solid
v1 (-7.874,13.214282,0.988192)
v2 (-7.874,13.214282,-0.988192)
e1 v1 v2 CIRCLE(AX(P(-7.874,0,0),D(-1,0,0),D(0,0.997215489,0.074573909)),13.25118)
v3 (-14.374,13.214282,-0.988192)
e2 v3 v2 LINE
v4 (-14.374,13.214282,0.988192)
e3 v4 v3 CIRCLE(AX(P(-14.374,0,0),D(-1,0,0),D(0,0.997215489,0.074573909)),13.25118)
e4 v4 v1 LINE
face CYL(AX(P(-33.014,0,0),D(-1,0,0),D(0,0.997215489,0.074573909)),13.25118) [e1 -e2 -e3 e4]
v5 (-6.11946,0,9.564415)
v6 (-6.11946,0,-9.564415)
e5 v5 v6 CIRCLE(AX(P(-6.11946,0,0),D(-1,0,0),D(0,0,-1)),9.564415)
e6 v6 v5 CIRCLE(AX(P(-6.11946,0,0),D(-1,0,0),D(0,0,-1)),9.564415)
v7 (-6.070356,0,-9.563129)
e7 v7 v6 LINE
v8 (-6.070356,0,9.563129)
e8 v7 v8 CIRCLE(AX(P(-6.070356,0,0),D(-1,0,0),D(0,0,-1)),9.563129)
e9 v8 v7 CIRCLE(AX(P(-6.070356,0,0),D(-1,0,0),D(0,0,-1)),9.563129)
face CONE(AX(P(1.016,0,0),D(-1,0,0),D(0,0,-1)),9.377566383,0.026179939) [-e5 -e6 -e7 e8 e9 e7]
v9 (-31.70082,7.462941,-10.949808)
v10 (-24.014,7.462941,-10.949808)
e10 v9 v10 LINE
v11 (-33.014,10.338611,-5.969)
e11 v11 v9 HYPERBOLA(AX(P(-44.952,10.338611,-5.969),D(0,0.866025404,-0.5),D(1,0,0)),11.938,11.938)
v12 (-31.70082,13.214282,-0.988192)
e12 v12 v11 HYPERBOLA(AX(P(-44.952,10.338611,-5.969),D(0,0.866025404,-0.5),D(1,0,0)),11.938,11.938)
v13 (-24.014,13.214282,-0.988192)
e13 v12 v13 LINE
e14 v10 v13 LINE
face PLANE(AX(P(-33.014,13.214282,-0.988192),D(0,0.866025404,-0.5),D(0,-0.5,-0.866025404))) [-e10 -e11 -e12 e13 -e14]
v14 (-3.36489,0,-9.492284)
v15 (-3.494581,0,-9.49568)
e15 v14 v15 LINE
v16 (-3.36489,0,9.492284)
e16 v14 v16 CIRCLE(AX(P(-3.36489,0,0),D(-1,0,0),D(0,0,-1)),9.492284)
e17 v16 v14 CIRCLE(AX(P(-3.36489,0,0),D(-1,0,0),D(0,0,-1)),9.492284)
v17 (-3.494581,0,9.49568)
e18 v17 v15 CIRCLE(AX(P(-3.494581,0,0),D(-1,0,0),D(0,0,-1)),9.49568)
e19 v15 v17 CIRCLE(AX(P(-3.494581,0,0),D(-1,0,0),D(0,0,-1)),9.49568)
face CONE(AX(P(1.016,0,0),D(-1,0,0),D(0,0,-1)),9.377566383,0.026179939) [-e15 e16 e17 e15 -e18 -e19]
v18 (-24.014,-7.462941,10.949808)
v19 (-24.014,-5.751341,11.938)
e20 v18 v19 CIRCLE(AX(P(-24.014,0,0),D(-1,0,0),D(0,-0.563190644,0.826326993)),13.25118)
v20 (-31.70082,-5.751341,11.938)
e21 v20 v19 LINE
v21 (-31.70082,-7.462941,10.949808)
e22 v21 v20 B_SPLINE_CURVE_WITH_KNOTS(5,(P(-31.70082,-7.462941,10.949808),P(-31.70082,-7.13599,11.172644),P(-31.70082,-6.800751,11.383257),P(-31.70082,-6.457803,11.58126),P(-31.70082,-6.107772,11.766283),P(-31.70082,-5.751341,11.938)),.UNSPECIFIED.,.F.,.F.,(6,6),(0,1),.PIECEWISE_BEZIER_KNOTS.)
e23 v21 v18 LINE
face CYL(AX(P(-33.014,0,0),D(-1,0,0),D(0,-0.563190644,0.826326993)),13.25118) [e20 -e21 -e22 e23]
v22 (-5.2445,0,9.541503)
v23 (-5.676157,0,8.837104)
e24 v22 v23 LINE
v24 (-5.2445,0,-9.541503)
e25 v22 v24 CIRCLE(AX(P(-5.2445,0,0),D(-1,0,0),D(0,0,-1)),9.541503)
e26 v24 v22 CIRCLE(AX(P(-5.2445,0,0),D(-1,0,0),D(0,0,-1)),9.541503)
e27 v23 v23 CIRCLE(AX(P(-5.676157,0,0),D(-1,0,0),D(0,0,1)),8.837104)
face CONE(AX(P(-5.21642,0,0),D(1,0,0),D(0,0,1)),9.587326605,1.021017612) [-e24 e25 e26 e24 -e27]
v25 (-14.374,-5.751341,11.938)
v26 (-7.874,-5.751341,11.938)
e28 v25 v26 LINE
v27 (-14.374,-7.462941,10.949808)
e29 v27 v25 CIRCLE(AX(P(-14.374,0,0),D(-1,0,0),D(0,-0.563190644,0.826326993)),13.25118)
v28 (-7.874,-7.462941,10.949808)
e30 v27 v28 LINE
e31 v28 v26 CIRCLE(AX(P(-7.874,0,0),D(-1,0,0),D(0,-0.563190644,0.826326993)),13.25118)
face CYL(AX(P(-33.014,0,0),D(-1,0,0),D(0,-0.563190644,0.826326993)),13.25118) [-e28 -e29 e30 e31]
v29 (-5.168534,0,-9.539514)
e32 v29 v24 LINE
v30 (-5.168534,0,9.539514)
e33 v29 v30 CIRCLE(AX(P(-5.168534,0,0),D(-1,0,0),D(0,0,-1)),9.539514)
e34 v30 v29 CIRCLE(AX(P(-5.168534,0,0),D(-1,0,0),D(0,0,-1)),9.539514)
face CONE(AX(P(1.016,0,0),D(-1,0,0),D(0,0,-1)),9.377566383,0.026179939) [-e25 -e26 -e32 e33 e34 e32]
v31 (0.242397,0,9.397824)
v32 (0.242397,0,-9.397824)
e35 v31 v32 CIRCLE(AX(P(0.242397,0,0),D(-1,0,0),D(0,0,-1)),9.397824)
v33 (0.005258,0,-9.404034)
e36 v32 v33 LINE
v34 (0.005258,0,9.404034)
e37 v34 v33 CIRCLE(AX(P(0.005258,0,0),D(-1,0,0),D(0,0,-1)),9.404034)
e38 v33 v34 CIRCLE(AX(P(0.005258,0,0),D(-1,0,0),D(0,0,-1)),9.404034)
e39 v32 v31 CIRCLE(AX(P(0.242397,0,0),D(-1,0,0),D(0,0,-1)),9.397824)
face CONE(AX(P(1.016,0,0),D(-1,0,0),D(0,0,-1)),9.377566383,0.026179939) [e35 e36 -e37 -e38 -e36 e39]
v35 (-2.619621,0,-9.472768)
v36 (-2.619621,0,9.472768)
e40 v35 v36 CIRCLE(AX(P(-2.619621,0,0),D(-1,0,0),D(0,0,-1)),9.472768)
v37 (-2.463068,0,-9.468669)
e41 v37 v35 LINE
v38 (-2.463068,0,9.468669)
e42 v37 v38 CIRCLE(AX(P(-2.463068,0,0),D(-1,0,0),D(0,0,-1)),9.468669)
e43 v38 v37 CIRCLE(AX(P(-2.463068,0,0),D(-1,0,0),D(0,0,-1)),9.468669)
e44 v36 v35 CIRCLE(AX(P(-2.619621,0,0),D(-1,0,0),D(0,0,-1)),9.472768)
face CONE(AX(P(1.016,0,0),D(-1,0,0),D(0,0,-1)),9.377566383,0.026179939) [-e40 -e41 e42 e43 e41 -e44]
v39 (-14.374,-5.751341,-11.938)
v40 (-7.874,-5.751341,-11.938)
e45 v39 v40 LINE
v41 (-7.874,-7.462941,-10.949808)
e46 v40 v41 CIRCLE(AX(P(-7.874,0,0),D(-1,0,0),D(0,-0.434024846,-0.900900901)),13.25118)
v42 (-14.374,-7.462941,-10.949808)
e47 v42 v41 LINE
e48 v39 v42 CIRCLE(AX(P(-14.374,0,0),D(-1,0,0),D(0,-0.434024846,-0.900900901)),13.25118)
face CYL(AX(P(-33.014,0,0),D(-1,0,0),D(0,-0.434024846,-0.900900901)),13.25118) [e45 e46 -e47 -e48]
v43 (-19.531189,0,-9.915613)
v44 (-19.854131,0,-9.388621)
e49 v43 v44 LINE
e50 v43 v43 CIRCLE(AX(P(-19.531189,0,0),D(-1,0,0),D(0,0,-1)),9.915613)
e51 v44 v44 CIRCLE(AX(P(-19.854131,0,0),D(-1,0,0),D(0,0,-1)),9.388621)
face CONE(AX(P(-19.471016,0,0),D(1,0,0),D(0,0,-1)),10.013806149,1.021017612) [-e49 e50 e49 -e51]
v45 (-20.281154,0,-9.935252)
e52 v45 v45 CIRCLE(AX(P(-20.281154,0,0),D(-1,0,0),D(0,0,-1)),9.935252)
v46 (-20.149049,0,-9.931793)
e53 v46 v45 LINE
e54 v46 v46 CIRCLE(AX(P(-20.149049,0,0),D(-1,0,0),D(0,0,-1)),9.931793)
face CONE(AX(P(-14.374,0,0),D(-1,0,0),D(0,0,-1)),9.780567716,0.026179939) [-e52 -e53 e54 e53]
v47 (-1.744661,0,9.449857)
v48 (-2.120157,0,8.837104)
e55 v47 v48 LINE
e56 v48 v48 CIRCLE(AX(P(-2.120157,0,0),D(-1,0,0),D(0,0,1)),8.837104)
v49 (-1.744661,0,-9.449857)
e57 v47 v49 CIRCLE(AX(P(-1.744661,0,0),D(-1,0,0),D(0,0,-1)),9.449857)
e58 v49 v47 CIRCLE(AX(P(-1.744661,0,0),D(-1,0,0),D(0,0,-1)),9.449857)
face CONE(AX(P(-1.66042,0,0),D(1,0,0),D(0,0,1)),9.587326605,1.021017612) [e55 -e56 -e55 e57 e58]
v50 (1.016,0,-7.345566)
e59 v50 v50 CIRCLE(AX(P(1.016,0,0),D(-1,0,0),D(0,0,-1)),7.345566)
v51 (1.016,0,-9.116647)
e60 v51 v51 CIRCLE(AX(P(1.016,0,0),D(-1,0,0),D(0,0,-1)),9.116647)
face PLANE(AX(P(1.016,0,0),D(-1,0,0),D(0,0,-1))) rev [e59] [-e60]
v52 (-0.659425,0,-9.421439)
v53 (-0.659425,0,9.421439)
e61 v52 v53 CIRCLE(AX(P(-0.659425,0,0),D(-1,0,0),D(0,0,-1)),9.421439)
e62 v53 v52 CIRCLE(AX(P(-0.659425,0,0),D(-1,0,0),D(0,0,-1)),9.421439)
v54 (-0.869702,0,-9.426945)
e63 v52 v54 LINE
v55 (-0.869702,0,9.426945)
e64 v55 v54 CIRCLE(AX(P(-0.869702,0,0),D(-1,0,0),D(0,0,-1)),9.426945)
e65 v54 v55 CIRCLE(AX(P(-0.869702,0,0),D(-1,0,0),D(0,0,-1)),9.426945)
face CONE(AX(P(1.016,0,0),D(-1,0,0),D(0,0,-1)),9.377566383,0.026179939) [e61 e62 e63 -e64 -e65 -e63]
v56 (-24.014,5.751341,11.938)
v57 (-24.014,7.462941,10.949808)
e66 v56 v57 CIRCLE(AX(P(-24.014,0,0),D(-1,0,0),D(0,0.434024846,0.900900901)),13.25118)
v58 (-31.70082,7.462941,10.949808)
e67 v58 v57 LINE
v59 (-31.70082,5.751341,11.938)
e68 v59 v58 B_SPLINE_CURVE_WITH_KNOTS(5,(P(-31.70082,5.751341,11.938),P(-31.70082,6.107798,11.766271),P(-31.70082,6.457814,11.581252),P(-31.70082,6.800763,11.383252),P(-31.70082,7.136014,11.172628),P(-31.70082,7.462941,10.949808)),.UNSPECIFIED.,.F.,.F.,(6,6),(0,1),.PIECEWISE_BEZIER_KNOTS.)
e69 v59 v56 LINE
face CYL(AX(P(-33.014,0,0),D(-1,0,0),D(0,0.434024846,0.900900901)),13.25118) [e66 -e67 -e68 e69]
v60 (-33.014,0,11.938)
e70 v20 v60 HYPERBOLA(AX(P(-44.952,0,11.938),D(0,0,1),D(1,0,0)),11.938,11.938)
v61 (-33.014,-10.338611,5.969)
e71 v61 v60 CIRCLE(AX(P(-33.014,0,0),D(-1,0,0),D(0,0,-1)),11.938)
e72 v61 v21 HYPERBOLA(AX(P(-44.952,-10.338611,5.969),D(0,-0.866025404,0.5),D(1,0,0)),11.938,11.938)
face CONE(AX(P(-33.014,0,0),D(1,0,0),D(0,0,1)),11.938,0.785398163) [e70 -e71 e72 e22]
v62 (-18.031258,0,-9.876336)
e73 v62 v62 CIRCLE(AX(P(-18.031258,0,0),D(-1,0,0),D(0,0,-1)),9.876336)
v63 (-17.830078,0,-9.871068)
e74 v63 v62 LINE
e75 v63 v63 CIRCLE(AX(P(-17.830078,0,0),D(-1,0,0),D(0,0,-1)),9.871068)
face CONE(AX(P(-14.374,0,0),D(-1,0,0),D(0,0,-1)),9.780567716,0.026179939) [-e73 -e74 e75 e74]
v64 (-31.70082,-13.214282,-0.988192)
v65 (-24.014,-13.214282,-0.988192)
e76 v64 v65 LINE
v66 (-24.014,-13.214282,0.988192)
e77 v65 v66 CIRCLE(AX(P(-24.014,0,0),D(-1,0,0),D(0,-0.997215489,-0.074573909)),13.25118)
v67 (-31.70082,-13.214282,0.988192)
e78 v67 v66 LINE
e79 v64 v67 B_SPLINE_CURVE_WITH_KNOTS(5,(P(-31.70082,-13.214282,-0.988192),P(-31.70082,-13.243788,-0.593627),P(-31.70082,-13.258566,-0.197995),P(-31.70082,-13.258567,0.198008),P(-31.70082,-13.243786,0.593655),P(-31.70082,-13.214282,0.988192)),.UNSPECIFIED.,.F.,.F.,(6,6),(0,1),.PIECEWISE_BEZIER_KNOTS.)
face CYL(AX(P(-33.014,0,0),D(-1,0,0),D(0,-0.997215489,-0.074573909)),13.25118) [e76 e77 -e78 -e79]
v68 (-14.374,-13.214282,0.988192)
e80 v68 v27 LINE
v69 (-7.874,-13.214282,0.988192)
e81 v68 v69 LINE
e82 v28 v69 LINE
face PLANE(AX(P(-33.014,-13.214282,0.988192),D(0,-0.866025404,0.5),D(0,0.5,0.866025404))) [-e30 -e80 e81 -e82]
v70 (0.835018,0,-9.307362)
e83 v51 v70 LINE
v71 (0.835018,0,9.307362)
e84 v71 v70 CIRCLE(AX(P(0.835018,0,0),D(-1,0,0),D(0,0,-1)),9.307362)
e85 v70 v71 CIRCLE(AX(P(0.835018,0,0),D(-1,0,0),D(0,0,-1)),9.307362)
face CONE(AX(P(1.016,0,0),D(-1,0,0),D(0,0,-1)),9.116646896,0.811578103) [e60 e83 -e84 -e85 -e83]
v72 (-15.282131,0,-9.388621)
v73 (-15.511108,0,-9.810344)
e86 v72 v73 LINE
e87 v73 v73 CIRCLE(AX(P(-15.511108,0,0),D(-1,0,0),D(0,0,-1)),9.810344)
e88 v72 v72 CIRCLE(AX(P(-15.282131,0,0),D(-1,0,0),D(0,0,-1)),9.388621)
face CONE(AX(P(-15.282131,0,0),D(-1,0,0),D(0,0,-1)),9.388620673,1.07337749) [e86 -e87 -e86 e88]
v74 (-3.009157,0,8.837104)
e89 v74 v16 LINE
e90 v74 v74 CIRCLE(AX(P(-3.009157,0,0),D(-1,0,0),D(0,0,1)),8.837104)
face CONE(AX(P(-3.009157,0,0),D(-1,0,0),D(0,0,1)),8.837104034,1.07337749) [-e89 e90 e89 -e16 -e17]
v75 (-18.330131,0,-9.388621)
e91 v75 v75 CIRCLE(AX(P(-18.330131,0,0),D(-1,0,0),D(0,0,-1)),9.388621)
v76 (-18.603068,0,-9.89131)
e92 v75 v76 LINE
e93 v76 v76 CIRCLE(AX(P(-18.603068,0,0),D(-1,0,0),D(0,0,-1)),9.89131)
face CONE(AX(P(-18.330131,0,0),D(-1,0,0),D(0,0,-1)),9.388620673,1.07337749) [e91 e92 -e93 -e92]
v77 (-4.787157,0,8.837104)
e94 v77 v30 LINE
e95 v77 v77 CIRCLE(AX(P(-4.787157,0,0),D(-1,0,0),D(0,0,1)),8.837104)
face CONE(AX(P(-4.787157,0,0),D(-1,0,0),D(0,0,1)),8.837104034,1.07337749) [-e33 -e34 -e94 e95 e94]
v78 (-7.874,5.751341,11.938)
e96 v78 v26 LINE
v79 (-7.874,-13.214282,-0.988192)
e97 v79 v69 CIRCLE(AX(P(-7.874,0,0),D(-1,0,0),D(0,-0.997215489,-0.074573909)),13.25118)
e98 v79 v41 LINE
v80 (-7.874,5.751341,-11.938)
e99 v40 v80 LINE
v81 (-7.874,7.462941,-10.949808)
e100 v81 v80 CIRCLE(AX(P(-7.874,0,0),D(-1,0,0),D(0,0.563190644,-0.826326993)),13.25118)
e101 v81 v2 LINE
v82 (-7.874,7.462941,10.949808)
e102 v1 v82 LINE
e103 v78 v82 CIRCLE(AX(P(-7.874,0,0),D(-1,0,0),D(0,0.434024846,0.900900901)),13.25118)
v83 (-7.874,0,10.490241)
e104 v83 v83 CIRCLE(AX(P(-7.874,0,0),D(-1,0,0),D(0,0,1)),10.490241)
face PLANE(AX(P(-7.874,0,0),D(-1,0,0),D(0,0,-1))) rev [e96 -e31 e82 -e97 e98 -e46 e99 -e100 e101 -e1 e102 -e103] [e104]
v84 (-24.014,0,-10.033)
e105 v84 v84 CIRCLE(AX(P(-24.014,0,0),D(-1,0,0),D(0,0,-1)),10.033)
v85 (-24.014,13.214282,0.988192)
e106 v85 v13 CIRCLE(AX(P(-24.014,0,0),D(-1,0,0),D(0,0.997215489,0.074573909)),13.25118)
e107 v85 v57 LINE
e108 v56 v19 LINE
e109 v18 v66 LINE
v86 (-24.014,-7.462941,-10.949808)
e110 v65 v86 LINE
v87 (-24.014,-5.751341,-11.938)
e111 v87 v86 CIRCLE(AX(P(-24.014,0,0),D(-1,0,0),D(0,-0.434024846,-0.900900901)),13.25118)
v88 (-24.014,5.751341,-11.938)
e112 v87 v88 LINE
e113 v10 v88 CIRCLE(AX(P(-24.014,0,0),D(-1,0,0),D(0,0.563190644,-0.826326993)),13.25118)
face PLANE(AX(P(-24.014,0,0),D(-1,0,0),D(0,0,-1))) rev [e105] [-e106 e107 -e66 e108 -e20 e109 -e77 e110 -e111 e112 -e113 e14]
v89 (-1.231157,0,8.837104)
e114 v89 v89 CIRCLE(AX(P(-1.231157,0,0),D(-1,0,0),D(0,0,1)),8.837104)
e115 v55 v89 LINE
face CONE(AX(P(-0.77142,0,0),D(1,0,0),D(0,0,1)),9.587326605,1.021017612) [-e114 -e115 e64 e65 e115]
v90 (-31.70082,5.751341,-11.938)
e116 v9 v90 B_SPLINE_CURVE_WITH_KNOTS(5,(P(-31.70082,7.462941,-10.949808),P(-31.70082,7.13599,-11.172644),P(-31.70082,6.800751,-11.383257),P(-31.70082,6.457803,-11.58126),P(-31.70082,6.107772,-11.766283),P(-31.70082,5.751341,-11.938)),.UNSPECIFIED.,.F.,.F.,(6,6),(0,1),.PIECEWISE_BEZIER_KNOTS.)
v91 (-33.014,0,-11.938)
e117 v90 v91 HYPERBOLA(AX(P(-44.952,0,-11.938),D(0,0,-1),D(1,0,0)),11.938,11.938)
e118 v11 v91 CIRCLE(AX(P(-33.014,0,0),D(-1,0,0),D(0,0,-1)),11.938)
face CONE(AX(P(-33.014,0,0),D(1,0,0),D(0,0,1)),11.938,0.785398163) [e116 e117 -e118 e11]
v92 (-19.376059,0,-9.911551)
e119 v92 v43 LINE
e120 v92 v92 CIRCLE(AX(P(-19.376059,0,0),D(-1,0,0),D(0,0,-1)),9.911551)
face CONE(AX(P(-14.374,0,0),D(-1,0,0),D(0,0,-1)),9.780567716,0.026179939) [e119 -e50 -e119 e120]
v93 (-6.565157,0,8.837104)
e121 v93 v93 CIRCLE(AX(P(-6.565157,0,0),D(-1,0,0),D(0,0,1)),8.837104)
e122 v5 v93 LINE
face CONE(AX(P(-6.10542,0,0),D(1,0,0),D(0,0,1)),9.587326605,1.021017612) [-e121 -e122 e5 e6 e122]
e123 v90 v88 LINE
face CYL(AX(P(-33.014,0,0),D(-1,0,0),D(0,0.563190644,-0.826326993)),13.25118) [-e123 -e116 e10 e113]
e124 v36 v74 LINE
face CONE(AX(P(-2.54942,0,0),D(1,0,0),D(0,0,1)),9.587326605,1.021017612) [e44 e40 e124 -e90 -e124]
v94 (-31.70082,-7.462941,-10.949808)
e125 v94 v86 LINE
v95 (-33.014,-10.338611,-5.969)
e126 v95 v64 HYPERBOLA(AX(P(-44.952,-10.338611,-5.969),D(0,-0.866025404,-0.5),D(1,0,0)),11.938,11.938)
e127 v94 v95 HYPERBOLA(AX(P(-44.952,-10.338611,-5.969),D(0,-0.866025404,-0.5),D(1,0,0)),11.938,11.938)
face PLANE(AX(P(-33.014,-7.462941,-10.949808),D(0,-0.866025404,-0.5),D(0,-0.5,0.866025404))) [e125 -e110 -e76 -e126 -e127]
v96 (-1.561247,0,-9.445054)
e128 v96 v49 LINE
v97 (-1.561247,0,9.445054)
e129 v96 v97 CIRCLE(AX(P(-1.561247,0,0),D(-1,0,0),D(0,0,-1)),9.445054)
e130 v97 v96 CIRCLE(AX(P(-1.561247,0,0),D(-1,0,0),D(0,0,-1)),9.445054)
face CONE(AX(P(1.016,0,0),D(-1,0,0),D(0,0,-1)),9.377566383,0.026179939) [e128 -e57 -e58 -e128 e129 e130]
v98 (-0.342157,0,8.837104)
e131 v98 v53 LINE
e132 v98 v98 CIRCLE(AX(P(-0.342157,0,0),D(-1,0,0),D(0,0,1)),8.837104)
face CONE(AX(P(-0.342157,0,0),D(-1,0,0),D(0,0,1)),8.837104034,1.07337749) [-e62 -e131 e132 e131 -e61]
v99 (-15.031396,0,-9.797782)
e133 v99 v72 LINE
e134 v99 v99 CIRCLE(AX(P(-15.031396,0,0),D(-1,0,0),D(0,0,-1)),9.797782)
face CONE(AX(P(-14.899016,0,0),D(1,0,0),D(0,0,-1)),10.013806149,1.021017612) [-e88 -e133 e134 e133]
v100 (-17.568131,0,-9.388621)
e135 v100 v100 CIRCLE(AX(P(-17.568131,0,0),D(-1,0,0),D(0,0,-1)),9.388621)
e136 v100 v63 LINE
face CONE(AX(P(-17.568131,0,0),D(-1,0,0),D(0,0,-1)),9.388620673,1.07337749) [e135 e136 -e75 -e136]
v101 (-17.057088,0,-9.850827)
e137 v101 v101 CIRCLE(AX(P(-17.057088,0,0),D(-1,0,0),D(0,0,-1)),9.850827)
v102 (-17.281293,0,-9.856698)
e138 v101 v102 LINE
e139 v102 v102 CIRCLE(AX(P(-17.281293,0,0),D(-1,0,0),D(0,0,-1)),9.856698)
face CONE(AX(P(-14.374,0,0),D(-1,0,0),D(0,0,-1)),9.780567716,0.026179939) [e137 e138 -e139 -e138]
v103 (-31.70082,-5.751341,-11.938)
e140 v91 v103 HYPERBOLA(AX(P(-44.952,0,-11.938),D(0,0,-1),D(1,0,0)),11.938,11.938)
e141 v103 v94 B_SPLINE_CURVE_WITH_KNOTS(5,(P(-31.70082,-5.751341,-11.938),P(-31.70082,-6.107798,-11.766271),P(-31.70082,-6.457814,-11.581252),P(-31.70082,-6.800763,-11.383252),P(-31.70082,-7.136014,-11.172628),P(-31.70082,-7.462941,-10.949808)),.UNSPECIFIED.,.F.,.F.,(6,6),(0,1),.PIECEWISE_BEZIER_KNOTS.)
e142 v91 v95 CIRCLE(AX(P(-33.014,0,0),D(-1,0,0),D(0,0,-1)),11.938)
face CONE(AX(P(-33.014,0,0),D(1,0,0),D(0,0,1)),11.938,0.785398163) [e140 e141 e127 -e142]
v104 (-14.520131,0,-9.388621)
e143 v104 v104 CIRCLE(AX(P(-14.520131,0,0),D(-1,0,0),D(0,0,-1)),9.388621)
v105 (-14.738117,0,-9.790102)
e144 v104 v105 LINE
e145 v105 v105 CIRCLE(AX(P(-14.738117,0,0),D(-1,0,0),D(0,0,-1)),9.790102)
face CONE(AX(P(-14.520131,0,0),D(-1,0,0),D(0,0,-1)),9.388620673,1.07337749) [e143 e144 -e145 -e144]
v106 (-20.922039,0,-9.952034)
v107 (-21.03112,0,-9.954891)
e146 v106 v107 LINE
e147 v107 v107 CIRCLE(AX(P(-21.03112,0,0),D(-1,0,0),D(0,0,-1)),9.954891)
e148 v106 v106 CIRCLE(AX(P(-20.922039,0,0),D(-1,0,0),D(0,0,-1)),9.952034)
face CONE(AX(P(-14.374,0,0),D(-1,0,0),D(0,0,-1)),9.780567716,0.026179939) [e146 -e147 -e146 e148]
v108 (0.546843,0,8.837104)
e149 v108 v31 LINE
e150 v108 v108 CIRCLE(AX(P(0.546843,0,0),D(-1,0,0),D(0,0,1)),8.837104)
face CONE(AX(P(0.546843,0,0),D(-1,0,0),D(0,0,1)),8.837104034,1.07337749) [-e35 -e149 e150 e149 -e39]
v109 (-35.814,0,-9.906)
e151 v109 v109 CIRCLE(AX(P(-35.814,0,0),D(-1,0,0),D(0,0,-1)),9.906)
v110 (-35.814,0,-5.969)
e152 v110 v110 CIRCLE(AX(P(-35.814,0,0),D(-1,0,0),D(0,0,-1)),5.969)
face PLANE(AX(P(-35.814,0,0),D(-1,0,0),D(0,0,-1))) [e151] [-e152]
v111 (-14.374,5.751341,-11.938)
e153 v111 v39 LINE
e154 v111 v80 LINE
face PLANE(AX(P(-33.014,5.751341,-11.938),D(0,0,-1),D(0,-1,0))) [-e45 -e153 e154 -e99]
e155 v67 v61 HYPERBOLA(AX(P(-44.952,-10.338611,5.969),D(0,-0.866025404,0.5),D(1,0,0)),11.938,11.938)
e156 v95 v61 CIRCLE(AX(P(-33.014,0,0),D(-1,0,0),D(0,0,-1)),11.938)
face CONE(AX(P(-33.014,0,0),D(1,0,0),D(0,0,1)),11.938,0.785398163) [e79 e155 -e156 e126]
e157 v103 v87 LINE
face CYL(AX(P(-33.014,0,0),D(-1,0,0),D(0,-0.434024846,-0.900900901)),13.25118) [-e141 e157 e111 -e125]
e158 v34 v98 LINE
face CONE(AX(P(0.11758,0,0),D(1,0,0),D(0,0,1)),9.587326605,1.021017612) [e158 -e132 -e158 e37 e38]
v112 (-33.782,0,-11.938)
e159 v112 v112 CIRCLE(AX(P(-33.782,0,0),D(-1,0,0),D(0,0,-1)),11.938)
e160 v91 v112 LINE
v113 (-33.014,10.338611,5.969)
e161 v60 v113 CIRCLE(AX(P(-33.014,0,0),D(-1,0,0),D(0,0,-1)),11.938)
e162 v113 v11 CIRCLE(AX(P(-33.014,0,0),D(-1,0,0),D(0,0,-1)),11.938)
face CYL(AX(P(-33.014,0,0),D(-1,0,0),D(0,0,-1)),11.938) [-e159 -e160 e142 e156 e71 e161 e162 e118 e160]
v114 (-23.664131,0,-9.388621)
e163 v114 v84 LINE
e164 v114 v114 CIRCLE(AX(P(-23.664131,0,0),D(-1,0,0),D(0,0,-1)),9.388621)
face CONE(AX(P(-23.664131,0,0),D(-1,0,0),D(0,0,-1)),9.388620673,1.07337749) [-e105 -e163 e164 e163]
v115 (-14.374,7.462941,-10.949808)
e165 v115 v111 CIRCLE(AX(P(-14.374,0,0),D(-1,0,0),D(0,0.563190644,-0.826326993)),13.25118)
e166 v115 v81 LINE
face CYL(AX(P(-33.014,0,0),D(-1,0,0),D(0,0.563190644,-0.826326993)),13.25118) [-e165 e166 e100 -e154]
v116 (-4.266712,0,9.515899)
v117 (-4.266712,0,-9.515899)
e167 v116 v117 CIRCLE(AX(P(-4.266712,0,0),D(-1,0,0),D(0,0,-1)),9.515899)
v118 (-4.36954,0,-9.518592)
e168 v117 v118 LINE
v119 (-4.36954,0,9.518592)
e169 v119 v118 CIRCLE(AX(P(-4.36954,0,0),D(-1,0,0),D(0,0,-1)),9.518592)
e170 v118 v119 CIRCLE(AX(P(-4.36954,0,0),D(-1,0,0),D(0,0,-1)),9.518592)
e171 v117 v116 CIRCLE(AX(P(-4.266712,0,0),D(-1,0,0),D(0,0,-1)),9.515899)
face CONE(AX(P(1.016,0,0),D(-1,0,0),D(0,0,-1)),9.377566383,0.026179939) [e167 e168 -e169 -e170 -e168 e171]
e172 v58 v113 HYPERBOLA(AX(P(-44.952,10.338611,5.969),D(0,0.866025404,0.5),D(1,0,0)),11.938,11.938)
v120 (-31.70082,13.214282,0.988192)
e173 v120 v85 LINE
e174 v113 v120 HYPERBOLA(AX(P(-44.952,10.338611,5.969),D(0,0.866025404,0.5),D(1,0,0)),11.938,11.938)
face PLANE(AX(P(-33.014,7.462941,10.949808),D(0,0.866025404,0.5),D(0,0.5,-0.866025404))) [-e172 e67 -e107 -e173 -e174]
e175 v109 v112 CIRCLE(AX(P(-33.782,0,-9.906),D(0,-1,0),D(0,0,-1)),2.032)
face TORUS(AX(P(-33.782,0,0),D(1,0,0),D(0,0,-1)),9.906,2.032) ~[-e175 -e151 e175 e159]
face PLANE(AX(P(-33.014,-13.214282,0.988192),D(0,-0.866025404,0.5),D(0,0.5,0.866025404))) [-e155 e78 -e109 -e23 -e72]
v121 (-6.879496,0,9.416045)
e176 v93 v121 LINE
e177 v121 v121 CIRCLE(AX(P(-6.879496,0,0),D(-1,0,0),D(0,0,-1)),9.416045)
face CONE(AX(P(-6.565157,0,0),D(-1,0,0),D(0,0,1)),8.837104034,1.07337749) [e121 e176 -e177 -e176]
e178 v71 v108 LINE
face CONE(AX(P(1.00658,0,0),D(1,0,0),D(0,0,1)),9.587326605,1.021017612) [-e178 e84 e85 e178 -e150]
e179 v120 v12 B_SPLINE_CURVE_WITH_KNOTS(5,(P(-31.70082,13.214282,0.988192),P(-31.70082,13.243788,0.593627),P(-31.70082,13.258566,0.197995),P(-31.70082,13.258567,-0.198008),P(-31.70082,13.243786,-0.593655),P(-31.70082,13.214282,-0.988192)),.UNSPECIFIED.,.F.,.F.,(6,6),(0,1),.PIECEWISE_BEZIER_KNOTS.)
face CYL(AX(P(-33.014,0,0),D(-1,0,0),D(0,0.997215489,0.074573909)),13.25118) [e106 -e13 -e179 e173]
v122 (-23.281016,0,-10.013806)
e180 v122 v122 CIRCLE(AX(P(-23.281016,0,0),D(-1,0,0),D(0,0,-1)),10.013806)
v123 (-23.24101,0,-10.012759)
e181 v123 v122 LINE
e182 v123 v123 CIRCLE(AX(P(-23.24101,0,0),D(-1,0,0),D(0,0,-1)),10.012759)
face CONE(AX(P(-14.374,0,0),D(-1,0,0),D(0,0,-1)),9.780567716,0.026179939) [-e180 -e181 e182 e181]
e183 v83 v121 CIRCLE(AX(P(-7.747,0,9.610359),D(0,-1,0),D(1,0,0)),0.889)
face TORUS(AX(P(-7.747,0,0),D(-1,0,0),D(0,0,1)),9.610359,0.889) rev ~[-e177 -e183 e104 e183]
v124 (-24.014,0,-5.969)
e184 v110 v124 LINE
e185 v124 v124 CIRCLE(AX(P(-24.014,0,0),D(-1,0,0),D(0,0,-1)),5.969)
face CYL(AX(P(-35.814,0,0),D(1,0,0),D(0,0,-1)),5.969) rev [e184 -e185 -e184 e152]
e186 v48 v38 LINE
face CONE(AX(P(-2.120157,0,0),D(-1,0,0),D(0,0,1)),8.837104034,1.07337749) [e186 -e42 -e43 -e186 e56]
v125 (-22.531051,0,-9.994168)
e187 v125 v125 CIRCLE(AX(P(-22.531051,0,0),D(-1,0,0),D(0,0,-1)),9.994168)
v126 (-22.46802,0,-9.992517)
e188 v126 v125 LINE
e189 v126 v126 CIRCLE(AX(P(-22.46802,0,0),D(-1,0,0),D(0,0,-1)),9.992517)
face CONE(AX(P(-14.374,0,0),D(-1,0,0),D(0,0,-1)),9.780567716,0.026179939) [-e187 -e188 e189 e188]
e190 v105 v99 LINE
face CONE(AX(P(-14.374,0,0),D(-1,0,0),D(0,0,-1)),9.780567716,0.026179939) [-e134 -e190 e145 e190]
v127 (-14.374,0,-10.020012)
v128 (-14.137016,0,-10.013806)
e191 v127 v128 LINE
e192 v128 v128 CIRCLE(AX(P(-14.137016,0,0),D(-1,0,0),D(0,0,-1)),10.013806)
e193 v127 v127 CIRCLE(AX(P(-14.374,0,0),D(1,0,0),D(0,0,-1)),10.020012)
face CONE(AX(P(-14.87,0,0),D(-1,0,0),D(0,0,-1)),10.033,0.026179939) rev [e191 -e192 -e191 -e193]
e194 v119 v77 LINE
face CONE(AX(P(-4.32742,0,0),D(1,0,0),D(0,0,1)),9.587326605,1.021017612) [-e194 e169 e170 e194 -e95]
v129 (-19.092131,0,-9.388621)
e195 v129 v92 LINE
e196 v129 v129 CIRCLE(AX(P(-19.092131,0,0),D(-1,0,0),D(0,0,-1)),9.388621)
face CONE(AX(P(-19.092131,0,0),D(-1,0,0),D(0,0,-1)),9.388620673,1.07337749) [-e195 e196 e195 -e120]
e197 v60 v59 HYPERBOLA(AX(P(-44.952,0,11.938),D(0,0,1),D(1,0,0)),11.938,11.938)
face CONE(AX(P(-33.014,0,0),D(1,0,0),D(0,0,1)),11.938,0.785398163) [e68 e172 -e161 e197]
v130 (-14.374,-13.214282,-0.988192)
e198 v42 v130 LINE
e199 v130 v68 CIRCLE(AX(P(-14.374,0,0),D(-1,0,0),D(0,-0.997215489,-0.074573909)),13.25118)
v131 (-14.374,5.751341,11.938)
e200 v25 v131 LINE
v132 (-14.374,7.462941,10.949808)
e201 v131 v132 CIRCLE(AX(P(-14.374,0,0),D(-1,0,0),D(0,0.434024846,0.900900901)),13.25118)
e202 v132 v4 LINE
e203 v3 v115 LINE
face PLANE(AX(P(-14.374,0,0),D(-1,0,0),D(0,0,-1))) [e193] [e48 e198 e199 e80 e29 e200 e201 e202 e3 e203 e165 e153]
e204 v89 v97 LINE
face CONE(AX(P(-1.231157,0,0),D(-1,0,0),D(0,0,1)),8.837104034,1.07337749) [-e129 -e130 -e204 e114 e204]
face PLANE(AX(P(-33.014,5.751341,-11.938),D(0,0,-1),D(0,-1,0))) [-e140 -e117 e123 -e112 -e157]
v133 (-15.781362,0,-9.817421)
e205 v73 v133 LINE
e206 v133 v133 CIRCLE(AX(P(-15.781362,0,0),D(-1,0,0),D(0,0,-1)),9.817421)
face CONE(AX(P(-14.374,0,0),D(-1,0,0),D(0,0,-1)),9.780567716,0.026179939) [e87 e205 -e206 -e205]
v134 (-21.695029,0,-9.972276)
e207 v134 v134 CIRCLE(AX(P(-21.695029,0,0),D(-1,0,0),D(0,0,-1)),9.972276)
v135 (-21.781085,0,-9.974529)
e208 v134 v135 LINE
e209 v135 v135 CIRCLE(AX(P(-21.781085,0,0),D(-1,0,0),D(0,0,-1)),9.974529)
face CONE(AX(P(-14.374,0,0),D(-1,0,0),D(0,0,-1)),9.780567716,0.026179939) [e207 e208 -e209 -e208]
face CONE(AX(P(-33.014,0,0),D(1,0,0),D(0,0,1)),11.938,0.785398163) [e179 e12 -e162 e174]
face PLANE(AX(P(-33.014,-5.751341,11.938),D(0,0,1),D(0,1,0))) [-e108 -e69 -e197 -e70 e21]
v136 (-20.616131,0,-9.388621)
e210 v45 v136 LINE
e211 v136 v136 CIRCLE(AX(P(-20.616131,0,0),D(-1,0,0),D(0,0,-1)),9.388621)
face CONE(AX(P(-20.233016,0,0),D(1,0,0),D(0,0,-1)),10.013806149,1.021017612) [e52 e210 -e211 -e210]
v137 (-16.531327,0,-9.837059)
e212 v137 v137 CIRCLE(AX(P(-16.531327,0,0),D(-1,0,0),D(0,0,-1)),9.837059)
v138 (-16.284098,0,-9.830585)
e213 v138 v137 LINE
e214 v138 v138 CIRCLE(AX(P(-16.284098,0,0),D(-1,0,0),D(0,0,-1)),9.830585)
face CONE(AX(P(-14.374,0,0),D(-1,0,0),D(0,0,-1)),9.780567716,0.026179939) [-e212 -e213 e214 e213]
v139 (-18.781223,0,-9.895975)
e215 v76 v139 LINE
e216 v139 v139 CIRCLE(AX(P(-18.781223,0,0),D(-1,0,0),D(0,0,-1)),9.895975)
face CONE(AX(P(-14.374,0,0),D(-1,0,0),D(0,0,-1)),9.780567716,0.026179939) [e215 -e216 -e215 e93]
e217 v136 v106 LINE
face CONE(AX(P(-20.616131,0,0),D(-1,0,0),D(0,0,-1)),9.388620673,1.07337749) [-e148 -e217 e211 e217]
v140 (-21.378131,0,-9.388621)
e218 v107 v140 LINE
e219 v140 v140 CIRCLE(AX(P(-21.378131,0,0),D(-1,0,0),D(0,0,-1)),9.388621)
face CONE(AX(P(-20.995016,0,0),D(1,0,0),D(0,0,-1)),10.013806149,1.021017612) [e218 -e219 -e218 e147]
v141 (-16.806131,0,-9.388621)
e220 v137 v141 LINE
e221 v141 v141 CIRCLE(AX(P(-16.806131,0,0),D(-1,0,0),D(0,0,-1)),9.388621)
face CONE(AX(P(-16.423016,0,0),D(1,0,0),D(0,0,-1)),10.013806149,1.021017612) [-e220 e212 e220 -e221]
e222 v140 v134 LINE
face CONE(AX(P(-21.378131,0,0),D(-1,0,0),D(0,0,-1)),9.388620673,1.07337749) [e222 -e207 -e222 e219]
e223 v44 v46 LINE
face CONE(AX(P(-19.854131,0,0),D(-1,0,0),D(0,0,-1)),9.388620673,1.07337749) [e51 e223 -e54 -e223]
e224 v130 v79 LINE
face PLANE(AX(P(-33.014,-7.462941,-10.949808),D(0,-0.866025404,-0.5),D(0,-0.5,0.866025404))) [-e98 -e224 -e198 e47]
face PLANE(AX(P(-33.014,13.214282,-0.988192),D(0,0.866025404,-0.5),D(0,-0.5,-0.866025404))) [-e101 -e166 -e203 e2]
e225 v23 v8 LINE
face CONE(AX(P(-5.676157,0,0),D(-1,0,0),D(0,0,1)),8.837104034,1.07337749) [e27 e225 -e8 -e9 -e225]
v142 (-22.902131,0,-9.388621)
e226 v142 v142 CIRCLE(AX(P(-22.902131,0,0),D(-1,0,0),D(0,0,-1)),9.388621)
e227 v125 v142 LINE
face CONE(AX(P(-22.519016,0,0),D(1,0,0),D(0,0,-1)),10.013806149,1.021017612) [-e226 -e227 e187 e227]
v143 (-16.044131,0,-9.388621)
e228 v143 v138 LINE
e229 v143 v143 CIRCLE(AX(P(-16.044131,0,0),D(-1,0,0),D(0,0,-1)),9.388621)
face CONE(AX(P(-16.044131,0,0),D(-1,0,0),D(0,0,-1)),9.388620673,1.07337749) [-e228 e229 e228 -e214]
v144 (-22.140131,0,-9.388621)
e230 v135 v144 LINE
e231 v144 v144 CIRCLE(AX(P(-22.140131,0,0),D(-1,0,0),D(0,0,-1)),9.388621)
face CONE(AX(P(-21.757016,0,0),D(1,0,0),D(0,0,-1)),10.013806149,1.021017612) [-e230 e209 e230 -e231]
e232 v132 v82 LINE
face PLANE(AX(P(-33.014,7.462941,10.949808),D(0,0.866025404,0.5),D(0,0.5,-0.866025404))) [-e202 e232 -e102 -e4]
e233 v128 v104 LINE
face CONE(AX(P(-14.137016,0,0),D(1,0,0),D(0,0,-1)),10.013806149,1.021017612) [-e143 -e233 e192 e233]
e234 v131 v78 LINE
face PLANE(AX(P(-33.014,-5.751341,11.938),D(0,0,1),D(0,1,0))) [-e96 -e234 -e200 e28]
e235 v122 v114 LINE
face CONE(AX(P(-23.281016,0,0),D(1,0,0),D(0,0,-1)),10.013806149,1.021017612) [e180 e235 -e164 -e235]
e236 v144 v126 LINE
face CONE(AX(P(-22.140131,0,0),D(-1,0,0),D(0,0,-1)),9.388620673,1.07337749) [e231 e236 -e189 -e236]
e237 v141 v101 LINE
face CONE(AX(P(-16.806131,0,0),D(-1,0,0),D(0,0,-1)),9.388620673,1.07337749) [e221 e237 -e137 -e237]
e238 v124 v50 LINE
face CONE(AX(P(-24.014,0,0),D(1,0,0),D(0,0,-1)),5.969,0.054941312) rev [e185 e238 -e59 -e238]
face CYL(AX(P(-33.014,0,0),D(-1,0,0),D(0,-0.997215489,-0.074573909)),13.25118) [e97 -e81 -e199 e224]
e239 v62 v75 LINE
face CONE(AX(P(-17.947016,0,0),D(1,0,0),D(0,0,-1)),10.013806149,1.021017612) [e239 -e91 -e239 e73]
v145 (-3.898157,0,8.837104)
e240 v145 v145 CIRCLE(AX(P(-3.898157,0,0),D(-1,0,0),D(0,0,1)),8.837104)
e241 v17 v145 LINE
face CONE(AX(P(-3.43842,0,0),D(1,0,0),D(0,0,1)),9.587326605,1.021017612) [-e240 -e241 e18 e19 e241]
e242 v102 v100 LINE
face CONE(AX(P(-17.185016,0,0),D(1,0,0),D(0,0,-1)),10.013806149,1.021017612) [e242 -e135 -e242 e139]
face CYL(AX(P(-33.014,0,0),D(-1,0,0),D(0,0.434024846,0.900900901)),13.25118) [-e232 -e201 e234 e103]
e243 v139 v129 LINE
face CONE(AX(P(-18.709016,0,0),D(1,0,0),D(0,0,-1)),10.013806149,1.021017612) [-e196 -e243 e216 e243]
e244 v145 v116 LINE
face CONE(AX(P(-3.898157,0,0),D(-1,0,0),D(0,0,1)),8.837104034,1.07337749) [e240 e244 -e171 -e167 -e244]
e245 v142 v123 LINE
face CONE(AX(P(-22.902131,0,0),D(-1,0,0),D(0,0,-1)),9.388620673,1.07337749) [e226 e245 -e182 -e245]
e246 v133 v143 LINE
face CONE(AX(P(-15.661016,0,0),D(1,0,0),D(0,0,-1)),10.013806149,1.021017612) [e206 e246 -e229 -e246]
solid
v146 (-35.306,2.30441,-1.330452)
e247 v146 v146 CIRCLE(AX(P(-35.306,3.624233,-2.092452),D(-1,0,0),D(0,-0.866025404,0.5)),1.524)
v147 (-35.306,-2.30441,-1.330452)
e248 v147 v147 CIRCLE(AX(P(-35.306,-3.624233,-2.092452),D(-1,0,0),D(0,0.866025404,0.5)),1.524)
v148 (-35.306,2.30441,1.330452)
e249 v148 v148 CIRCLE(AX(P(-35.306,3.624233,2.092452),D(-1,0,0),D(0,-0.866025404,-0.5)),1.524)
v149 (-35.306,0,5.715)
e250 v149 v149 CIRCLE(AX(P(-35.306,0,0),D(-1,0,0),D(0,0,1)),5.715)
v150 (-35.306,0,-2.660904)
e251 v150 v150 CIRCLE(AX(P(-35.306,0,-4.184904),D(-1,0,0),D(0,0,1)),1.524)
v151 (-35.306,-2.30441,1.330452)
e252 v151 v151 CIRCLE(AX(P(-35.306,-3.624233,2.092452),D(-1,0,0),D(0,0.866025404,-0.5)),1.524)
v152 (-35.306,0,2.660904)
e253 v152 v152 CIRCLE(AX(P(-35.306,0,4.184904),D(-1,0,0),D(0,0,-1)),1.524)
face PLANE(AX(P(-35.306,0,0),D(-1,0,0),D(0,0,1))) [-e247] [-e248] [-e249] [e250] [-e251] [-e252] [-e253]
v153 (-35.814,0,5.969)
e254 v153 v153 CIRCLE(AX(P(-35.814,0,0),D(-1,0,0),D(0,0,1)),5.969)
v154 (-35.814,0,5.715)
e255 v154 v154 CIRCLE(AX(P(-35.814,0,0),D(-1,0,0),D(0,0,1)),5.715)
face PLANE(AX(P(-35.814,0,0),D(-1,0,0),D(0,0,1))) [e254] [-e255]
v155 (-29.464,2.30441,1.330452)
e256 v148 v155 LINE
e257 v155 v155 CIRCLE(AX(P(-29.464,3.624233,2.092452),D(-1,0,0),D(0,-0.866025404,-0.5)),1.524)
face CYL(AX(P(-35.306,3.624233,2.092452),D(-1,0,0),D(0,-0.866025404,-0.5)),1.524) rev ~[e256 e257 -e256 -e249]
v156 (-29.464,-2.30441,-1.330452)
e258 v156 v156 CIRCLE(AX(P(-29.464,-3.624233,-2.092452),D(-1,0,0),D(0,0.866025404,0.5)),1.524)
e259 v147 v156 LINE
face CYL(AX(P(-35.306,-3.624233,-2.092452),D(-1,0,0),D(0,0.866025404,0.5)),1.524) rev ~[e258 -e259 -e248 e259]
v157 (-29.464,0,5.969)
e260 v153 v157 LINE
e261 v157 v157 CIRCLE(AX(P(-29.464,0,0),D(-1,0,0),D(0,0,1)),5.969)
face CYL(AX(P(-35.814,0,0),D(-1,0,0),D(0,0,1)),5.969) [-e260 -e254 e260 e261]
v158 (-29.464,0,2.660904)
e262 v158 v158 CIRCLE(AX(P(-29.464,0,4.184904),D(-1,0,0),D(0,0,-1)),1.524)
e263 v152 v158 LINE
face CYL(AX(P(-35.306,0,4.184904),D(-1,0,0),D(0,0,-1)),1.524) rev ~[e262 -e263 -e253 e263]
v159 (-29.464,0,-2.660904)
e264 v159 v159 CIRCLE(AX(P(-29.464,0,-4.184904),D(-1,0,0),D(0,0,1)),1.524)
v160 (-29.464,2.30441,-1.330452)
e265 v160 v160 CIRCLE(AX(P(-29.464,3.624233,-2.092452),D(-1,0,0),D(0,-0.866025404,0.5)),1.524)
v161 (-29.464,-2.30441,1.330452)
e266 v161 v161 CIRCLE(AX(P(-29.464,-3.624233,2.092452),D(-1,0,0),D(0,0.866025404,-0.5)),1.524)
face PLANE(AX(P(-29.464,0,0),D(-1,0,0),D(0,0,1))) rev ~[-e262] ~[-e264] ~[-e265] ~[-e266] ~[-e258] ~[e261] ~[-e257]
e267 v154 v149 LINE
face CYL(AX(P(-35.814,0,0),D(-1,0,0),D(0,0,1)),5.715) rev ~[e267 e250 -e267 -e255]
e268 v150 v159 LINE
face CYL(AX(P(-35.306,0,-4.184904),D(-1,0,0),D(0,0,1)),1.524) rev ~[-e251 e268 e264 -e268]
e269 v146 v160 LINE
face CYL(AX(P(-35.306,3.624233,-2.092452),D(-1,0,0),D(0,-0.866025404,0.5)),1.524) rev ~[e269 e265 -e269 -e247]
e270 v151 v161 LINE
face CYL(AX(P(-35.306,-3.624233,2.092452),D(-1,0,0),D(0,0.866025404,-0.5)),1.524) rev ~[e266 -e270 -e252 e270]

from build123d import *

# Parameters (mm, degrees)
SKETCH12_OUTSIDE_W = 65.136
SKETCH12_OUTSIDE_H = 65.136
CUT_EXTRUDE2_DEPTH = 35.03
FILLET4_R          = 2.032
SKETCH19_OUTSIDE_W = 40.13
SKETCH19_OUTSIDE_H = 42.756
SKETCH19_OUTSIDE_R = 11.938
CUT_EXTRUDE3_DEPTH = 1.999996
CUT_EXTRUDE3_DRAFT = -45
CHAMFER1_SIZE      = 0.260919487
CHAMFER1_SIZE2     = 0.254
SKETCH21_R         = 5.969
PLUG_DEPTH         = 6.35
SKETCH22_R         = 5.715
CUT_EXTRUDE4_DEPTH = 0.508
SKETCH27_R         = 1.524
PLUGHOLES_DEPTH    = 37.322
CIRPATTERN1_COUNT  = 6
LPATTERN1_COUNT    = 13
LPATTERN1_PITCH    = 0.762
LPATTERN2_COUNT    = 10
LPATTERN2_PITCH    = 0.889
SKETCH32_R         = 0.889


with BuildPart() as part:
    # Sketch10 → Revolve2 (revolve)
    with BuildSketch(Plane.XY, mode=Mode.PRIVATE) as revolve2_sk:
        Polygon((-35.814, 5.969), (-24.014, 5.969), (1.016, 7.345566383), (1.016, 9.377566383), (-7.874, 9.610359226), (-7.874, 23.876), (-14.374, 23.876), (-14.374, 9.780567716), (-24.014, 10.033), (-24.014, 23.876), (-33.014, 23.876), (-33.014, 11.938), (-35.814, 11.938), align=None)
    revolve(revolve2_sk.sketch.rotate(Axis((0, 0, 0), (-1, 0, 0)), 90), axis=Axis((0, 0, 0), (-1, 0, 0)))  # turned: the seam where the file's is

    # Sketch12 outside → Cut-Extrude2 (cut, through all)
    with BuildSketch(Plane.ZY.offset(33.014)):
        Rectangle(SKETCH12_OUTSIDE_W, SKETCH12_OUTSIDE_H)
        with BuildLine():
            Line((-0.98819228, 13.214281948), (-10.94980772, 7.462940592))
            ThreePointArc((-10.94980772, 7.462940592), (-11.47585851, 6.62559), (-11.938, 5.751341356))
            Line((-11.938, 5.751341356), (-11.938, -5.751341356))
            ThreePointArc((-11.938, -5.751341356), (-11.47585851, -6.62559), (-10.94980772, -7.462940592))
            Line((-10.94980772, -7.462940592), (-0.98819228, -13.214281948))
            ThreePointArc((-0.98819228, -13.214281948), (0, -13.25118), (0.98819228, -13.214281948))
            Line((0.98819228, -13.214281948), (10.94980772, -7.462940592))
            ThreePointArc((10.94980772, -7.462940592), (11.47585851, -6.62559), (11.938, -5.751341356))
            Line((11.938, -5.751341356), (11.938, 5.751341356))
            ThreePointArc((11.938, 5.751341356), (11.47585851, 6.62559), (10.94980772, 7.462940592))
            Line((10.94980772, 7.462940592), (0.98819228, 13.214281948))
            ThreePointArc((0.98819228, 13.214281948), (0, 13.25118), (-0.98819228, 13.214281948))
        make_face(mode=Mode.SUBTRACT)
    extrude(amount=-CUT_EXTRUDE2_DEPTH, mode=Mode.SUBTRACT)

    # Fillet4
    fillet4_edges = [part.edges().sort_by_distance(p)[0] for p in [
        (-35.814, 0, 11.938),
    ]]
    fillet(fillet4_edges, radius=FILLET4_R)


with BuildPart() as cut_extrude3_tool:
    # Sketch19 outside → Cut-Extrude3 (with draft: the straight prism first)
    with BuildSketch(Plane.ZY.offset(33.014)):
        Rectangle(SKETCH19_OUTSIDE_W, SKETCH19_OUTSIDE_H)
        Circle(SKETCH19_OUTSIDE_R, mode=Mode.SUBTRACT)
    extrude(amount=-CUT_EXTRUDE3_DEPTH)
    # Cut-Extrude3: the draft: its side faces are tilted about the plane it starts from
    cut_extrude3_sides = [cut_extrude3_tool.faces().sort_by_distance(p)[0] for p in [
        (-32.014002, -21.378, 0),
        (-32.014002, 0, 20.065),
        (-32.014002, 21.378, 0),
        (-32.014002, 0, -20.065),
        (-32.014002, 0, -11.938),
    ]]
    draft(cut_extrude3_sides, Plane.ZY.offset(33.014), CUT_EXTRUDE3_DRAFT)


with BuildPart() as part_1:
    add(part.part)

    # Cut-Extrude3: cut by cut_extrude3_tool
    add(cut_extrude3_tool.part, mode=Mode.SUBTRACT)

    # Chamfer1
    chamfer1_edges = [part_1.edges().sort_by_distance(p)[0] for p in [
        (1.016, 0, 9.377566383),
    ]]
    chamfer1_side = [part_1.faces().sort_by_distance(p)[0] for p in [
        (1.016, 0, 7.610804014),
    ]]
    chamfer(chamfer1_edges, length=CHAMFER1_SIZE, length2=CHAMFER1_SIZE2, reference=chamfer1_side[0])

    # Sketch29 → Cut-Revolve1 (revolve, cut)
    with BuildSketch(Plane.XY, mode=Mode.PRIVATE) as cut_revolve1_sk:
        Polygon((-24.014, 10.033), (-23.281016419, 10.013806149), (-23.664130572, 9.388620673), align=None)
    cut_revolve1 = revolve(cut_revolve1_sk.sketch.rotate(Axis((0, 0, 0), (-1, 0, 0)), 90), axis=Axis((0, 0, 0), (-1, 0, 0)), mode=Mode.SUBTRACT)  # turned: the seam where the file's is

    # LPattern1: Cut-Revolve1 ×13
    with Locations(*[(i * LPATTERN1_PITCH, 0, 0) for i in range(1, LPATTERN1_COUNT)]):
        add(cut_revolve1, mode=Mode.SUBTRACT)

    # Sketch30 → Cut-Revolve2 (revolve, cut)
    with BuildSketch(Plane.XY, mode=Mode.PRIVATE) as cut_revolve2_sk:
        Polygon((-7.874, 9.610359226), (-6.994419703, 9.587326605), (-7.454156686, 8.837104034), align=None)
    cut_revolve2 = revolve(cut_revolve2_sk.sketch.rotate(Axis((0, 0, 0), (-1, 0, 0)), 270), axis=Axis((0, 0, 0), (-1, 0, 0)), mode=Mode.SUBTRACT)  # turned: the seam where the file's is

    # LPattern2: Cut-Revolve2 ×10
    with Locations(*[(i * LPATTERN2_PITCH, 0, 0) for i in range(1, LPATTERN2_COUNT)]):
        add(cut_revolve2, mode=Mode.SUBTRACT)

    # Sketch32 → Cut-Revolve3 (revolve, cut)
    with BuildSketch(Plane.XY, mode=Mode.PRIVATE) as cut_revolve3_sk:
        with Locations((-7.747, 9.610359226)):
            Circle(SKETCH32_R)
    revolve(cut_revolve3_sk.sketch.rotate(Axis((0, 0, 0), (-1, 0, 0)), 270), axis=Axis((0, 0, 0), (-1, 0, 0)), mode=Mode.SUBTRACT)  # turned: the seam where the file's is


with BuildPart() as body_2:
    # Sketch21 → plug (new body)
    with BuildSketch(Plane.ZY.offset(35.814)):
        Circle(SKETCH21_R)
    extrude(amount=-PLUG_DEPTH)

    # Sketch22 → Cut-Extrude4 (cut)
    with BuildSketch(Plane.ZY.offset(35.814)):
        Circle(SKETCH22_R)
    extrude(amount=-CUT_EXTRUDE4_DEPTH, mode=Mode.SUBTRACT)

    # Sketch27 → plugholes (cut, through all)
    with BuildSketch(Plane.ZY.offset(35.306)):
        with Locations((-4.184904, 0)):
            Circle(SKETCH27_R)
    plugholes = extrude(amount=-PLUGHOLES_DEPTH, mode=Mode.SUBTRACT)

    # CirPattern1: plugholes ×6 about axis
    cirpattern1_axis = Axis((0, 0, 0), (1, 0, 0))
    for i in range(1, CIRPATTERN1_COUNT):
        add(plugholes.rotate(cirpattern1_axis, i * 360 / CIRPATTERN1_COUNT), mode=Mode.SUBTRACT)


solid = Compound([part_1.part, body_2.part])
